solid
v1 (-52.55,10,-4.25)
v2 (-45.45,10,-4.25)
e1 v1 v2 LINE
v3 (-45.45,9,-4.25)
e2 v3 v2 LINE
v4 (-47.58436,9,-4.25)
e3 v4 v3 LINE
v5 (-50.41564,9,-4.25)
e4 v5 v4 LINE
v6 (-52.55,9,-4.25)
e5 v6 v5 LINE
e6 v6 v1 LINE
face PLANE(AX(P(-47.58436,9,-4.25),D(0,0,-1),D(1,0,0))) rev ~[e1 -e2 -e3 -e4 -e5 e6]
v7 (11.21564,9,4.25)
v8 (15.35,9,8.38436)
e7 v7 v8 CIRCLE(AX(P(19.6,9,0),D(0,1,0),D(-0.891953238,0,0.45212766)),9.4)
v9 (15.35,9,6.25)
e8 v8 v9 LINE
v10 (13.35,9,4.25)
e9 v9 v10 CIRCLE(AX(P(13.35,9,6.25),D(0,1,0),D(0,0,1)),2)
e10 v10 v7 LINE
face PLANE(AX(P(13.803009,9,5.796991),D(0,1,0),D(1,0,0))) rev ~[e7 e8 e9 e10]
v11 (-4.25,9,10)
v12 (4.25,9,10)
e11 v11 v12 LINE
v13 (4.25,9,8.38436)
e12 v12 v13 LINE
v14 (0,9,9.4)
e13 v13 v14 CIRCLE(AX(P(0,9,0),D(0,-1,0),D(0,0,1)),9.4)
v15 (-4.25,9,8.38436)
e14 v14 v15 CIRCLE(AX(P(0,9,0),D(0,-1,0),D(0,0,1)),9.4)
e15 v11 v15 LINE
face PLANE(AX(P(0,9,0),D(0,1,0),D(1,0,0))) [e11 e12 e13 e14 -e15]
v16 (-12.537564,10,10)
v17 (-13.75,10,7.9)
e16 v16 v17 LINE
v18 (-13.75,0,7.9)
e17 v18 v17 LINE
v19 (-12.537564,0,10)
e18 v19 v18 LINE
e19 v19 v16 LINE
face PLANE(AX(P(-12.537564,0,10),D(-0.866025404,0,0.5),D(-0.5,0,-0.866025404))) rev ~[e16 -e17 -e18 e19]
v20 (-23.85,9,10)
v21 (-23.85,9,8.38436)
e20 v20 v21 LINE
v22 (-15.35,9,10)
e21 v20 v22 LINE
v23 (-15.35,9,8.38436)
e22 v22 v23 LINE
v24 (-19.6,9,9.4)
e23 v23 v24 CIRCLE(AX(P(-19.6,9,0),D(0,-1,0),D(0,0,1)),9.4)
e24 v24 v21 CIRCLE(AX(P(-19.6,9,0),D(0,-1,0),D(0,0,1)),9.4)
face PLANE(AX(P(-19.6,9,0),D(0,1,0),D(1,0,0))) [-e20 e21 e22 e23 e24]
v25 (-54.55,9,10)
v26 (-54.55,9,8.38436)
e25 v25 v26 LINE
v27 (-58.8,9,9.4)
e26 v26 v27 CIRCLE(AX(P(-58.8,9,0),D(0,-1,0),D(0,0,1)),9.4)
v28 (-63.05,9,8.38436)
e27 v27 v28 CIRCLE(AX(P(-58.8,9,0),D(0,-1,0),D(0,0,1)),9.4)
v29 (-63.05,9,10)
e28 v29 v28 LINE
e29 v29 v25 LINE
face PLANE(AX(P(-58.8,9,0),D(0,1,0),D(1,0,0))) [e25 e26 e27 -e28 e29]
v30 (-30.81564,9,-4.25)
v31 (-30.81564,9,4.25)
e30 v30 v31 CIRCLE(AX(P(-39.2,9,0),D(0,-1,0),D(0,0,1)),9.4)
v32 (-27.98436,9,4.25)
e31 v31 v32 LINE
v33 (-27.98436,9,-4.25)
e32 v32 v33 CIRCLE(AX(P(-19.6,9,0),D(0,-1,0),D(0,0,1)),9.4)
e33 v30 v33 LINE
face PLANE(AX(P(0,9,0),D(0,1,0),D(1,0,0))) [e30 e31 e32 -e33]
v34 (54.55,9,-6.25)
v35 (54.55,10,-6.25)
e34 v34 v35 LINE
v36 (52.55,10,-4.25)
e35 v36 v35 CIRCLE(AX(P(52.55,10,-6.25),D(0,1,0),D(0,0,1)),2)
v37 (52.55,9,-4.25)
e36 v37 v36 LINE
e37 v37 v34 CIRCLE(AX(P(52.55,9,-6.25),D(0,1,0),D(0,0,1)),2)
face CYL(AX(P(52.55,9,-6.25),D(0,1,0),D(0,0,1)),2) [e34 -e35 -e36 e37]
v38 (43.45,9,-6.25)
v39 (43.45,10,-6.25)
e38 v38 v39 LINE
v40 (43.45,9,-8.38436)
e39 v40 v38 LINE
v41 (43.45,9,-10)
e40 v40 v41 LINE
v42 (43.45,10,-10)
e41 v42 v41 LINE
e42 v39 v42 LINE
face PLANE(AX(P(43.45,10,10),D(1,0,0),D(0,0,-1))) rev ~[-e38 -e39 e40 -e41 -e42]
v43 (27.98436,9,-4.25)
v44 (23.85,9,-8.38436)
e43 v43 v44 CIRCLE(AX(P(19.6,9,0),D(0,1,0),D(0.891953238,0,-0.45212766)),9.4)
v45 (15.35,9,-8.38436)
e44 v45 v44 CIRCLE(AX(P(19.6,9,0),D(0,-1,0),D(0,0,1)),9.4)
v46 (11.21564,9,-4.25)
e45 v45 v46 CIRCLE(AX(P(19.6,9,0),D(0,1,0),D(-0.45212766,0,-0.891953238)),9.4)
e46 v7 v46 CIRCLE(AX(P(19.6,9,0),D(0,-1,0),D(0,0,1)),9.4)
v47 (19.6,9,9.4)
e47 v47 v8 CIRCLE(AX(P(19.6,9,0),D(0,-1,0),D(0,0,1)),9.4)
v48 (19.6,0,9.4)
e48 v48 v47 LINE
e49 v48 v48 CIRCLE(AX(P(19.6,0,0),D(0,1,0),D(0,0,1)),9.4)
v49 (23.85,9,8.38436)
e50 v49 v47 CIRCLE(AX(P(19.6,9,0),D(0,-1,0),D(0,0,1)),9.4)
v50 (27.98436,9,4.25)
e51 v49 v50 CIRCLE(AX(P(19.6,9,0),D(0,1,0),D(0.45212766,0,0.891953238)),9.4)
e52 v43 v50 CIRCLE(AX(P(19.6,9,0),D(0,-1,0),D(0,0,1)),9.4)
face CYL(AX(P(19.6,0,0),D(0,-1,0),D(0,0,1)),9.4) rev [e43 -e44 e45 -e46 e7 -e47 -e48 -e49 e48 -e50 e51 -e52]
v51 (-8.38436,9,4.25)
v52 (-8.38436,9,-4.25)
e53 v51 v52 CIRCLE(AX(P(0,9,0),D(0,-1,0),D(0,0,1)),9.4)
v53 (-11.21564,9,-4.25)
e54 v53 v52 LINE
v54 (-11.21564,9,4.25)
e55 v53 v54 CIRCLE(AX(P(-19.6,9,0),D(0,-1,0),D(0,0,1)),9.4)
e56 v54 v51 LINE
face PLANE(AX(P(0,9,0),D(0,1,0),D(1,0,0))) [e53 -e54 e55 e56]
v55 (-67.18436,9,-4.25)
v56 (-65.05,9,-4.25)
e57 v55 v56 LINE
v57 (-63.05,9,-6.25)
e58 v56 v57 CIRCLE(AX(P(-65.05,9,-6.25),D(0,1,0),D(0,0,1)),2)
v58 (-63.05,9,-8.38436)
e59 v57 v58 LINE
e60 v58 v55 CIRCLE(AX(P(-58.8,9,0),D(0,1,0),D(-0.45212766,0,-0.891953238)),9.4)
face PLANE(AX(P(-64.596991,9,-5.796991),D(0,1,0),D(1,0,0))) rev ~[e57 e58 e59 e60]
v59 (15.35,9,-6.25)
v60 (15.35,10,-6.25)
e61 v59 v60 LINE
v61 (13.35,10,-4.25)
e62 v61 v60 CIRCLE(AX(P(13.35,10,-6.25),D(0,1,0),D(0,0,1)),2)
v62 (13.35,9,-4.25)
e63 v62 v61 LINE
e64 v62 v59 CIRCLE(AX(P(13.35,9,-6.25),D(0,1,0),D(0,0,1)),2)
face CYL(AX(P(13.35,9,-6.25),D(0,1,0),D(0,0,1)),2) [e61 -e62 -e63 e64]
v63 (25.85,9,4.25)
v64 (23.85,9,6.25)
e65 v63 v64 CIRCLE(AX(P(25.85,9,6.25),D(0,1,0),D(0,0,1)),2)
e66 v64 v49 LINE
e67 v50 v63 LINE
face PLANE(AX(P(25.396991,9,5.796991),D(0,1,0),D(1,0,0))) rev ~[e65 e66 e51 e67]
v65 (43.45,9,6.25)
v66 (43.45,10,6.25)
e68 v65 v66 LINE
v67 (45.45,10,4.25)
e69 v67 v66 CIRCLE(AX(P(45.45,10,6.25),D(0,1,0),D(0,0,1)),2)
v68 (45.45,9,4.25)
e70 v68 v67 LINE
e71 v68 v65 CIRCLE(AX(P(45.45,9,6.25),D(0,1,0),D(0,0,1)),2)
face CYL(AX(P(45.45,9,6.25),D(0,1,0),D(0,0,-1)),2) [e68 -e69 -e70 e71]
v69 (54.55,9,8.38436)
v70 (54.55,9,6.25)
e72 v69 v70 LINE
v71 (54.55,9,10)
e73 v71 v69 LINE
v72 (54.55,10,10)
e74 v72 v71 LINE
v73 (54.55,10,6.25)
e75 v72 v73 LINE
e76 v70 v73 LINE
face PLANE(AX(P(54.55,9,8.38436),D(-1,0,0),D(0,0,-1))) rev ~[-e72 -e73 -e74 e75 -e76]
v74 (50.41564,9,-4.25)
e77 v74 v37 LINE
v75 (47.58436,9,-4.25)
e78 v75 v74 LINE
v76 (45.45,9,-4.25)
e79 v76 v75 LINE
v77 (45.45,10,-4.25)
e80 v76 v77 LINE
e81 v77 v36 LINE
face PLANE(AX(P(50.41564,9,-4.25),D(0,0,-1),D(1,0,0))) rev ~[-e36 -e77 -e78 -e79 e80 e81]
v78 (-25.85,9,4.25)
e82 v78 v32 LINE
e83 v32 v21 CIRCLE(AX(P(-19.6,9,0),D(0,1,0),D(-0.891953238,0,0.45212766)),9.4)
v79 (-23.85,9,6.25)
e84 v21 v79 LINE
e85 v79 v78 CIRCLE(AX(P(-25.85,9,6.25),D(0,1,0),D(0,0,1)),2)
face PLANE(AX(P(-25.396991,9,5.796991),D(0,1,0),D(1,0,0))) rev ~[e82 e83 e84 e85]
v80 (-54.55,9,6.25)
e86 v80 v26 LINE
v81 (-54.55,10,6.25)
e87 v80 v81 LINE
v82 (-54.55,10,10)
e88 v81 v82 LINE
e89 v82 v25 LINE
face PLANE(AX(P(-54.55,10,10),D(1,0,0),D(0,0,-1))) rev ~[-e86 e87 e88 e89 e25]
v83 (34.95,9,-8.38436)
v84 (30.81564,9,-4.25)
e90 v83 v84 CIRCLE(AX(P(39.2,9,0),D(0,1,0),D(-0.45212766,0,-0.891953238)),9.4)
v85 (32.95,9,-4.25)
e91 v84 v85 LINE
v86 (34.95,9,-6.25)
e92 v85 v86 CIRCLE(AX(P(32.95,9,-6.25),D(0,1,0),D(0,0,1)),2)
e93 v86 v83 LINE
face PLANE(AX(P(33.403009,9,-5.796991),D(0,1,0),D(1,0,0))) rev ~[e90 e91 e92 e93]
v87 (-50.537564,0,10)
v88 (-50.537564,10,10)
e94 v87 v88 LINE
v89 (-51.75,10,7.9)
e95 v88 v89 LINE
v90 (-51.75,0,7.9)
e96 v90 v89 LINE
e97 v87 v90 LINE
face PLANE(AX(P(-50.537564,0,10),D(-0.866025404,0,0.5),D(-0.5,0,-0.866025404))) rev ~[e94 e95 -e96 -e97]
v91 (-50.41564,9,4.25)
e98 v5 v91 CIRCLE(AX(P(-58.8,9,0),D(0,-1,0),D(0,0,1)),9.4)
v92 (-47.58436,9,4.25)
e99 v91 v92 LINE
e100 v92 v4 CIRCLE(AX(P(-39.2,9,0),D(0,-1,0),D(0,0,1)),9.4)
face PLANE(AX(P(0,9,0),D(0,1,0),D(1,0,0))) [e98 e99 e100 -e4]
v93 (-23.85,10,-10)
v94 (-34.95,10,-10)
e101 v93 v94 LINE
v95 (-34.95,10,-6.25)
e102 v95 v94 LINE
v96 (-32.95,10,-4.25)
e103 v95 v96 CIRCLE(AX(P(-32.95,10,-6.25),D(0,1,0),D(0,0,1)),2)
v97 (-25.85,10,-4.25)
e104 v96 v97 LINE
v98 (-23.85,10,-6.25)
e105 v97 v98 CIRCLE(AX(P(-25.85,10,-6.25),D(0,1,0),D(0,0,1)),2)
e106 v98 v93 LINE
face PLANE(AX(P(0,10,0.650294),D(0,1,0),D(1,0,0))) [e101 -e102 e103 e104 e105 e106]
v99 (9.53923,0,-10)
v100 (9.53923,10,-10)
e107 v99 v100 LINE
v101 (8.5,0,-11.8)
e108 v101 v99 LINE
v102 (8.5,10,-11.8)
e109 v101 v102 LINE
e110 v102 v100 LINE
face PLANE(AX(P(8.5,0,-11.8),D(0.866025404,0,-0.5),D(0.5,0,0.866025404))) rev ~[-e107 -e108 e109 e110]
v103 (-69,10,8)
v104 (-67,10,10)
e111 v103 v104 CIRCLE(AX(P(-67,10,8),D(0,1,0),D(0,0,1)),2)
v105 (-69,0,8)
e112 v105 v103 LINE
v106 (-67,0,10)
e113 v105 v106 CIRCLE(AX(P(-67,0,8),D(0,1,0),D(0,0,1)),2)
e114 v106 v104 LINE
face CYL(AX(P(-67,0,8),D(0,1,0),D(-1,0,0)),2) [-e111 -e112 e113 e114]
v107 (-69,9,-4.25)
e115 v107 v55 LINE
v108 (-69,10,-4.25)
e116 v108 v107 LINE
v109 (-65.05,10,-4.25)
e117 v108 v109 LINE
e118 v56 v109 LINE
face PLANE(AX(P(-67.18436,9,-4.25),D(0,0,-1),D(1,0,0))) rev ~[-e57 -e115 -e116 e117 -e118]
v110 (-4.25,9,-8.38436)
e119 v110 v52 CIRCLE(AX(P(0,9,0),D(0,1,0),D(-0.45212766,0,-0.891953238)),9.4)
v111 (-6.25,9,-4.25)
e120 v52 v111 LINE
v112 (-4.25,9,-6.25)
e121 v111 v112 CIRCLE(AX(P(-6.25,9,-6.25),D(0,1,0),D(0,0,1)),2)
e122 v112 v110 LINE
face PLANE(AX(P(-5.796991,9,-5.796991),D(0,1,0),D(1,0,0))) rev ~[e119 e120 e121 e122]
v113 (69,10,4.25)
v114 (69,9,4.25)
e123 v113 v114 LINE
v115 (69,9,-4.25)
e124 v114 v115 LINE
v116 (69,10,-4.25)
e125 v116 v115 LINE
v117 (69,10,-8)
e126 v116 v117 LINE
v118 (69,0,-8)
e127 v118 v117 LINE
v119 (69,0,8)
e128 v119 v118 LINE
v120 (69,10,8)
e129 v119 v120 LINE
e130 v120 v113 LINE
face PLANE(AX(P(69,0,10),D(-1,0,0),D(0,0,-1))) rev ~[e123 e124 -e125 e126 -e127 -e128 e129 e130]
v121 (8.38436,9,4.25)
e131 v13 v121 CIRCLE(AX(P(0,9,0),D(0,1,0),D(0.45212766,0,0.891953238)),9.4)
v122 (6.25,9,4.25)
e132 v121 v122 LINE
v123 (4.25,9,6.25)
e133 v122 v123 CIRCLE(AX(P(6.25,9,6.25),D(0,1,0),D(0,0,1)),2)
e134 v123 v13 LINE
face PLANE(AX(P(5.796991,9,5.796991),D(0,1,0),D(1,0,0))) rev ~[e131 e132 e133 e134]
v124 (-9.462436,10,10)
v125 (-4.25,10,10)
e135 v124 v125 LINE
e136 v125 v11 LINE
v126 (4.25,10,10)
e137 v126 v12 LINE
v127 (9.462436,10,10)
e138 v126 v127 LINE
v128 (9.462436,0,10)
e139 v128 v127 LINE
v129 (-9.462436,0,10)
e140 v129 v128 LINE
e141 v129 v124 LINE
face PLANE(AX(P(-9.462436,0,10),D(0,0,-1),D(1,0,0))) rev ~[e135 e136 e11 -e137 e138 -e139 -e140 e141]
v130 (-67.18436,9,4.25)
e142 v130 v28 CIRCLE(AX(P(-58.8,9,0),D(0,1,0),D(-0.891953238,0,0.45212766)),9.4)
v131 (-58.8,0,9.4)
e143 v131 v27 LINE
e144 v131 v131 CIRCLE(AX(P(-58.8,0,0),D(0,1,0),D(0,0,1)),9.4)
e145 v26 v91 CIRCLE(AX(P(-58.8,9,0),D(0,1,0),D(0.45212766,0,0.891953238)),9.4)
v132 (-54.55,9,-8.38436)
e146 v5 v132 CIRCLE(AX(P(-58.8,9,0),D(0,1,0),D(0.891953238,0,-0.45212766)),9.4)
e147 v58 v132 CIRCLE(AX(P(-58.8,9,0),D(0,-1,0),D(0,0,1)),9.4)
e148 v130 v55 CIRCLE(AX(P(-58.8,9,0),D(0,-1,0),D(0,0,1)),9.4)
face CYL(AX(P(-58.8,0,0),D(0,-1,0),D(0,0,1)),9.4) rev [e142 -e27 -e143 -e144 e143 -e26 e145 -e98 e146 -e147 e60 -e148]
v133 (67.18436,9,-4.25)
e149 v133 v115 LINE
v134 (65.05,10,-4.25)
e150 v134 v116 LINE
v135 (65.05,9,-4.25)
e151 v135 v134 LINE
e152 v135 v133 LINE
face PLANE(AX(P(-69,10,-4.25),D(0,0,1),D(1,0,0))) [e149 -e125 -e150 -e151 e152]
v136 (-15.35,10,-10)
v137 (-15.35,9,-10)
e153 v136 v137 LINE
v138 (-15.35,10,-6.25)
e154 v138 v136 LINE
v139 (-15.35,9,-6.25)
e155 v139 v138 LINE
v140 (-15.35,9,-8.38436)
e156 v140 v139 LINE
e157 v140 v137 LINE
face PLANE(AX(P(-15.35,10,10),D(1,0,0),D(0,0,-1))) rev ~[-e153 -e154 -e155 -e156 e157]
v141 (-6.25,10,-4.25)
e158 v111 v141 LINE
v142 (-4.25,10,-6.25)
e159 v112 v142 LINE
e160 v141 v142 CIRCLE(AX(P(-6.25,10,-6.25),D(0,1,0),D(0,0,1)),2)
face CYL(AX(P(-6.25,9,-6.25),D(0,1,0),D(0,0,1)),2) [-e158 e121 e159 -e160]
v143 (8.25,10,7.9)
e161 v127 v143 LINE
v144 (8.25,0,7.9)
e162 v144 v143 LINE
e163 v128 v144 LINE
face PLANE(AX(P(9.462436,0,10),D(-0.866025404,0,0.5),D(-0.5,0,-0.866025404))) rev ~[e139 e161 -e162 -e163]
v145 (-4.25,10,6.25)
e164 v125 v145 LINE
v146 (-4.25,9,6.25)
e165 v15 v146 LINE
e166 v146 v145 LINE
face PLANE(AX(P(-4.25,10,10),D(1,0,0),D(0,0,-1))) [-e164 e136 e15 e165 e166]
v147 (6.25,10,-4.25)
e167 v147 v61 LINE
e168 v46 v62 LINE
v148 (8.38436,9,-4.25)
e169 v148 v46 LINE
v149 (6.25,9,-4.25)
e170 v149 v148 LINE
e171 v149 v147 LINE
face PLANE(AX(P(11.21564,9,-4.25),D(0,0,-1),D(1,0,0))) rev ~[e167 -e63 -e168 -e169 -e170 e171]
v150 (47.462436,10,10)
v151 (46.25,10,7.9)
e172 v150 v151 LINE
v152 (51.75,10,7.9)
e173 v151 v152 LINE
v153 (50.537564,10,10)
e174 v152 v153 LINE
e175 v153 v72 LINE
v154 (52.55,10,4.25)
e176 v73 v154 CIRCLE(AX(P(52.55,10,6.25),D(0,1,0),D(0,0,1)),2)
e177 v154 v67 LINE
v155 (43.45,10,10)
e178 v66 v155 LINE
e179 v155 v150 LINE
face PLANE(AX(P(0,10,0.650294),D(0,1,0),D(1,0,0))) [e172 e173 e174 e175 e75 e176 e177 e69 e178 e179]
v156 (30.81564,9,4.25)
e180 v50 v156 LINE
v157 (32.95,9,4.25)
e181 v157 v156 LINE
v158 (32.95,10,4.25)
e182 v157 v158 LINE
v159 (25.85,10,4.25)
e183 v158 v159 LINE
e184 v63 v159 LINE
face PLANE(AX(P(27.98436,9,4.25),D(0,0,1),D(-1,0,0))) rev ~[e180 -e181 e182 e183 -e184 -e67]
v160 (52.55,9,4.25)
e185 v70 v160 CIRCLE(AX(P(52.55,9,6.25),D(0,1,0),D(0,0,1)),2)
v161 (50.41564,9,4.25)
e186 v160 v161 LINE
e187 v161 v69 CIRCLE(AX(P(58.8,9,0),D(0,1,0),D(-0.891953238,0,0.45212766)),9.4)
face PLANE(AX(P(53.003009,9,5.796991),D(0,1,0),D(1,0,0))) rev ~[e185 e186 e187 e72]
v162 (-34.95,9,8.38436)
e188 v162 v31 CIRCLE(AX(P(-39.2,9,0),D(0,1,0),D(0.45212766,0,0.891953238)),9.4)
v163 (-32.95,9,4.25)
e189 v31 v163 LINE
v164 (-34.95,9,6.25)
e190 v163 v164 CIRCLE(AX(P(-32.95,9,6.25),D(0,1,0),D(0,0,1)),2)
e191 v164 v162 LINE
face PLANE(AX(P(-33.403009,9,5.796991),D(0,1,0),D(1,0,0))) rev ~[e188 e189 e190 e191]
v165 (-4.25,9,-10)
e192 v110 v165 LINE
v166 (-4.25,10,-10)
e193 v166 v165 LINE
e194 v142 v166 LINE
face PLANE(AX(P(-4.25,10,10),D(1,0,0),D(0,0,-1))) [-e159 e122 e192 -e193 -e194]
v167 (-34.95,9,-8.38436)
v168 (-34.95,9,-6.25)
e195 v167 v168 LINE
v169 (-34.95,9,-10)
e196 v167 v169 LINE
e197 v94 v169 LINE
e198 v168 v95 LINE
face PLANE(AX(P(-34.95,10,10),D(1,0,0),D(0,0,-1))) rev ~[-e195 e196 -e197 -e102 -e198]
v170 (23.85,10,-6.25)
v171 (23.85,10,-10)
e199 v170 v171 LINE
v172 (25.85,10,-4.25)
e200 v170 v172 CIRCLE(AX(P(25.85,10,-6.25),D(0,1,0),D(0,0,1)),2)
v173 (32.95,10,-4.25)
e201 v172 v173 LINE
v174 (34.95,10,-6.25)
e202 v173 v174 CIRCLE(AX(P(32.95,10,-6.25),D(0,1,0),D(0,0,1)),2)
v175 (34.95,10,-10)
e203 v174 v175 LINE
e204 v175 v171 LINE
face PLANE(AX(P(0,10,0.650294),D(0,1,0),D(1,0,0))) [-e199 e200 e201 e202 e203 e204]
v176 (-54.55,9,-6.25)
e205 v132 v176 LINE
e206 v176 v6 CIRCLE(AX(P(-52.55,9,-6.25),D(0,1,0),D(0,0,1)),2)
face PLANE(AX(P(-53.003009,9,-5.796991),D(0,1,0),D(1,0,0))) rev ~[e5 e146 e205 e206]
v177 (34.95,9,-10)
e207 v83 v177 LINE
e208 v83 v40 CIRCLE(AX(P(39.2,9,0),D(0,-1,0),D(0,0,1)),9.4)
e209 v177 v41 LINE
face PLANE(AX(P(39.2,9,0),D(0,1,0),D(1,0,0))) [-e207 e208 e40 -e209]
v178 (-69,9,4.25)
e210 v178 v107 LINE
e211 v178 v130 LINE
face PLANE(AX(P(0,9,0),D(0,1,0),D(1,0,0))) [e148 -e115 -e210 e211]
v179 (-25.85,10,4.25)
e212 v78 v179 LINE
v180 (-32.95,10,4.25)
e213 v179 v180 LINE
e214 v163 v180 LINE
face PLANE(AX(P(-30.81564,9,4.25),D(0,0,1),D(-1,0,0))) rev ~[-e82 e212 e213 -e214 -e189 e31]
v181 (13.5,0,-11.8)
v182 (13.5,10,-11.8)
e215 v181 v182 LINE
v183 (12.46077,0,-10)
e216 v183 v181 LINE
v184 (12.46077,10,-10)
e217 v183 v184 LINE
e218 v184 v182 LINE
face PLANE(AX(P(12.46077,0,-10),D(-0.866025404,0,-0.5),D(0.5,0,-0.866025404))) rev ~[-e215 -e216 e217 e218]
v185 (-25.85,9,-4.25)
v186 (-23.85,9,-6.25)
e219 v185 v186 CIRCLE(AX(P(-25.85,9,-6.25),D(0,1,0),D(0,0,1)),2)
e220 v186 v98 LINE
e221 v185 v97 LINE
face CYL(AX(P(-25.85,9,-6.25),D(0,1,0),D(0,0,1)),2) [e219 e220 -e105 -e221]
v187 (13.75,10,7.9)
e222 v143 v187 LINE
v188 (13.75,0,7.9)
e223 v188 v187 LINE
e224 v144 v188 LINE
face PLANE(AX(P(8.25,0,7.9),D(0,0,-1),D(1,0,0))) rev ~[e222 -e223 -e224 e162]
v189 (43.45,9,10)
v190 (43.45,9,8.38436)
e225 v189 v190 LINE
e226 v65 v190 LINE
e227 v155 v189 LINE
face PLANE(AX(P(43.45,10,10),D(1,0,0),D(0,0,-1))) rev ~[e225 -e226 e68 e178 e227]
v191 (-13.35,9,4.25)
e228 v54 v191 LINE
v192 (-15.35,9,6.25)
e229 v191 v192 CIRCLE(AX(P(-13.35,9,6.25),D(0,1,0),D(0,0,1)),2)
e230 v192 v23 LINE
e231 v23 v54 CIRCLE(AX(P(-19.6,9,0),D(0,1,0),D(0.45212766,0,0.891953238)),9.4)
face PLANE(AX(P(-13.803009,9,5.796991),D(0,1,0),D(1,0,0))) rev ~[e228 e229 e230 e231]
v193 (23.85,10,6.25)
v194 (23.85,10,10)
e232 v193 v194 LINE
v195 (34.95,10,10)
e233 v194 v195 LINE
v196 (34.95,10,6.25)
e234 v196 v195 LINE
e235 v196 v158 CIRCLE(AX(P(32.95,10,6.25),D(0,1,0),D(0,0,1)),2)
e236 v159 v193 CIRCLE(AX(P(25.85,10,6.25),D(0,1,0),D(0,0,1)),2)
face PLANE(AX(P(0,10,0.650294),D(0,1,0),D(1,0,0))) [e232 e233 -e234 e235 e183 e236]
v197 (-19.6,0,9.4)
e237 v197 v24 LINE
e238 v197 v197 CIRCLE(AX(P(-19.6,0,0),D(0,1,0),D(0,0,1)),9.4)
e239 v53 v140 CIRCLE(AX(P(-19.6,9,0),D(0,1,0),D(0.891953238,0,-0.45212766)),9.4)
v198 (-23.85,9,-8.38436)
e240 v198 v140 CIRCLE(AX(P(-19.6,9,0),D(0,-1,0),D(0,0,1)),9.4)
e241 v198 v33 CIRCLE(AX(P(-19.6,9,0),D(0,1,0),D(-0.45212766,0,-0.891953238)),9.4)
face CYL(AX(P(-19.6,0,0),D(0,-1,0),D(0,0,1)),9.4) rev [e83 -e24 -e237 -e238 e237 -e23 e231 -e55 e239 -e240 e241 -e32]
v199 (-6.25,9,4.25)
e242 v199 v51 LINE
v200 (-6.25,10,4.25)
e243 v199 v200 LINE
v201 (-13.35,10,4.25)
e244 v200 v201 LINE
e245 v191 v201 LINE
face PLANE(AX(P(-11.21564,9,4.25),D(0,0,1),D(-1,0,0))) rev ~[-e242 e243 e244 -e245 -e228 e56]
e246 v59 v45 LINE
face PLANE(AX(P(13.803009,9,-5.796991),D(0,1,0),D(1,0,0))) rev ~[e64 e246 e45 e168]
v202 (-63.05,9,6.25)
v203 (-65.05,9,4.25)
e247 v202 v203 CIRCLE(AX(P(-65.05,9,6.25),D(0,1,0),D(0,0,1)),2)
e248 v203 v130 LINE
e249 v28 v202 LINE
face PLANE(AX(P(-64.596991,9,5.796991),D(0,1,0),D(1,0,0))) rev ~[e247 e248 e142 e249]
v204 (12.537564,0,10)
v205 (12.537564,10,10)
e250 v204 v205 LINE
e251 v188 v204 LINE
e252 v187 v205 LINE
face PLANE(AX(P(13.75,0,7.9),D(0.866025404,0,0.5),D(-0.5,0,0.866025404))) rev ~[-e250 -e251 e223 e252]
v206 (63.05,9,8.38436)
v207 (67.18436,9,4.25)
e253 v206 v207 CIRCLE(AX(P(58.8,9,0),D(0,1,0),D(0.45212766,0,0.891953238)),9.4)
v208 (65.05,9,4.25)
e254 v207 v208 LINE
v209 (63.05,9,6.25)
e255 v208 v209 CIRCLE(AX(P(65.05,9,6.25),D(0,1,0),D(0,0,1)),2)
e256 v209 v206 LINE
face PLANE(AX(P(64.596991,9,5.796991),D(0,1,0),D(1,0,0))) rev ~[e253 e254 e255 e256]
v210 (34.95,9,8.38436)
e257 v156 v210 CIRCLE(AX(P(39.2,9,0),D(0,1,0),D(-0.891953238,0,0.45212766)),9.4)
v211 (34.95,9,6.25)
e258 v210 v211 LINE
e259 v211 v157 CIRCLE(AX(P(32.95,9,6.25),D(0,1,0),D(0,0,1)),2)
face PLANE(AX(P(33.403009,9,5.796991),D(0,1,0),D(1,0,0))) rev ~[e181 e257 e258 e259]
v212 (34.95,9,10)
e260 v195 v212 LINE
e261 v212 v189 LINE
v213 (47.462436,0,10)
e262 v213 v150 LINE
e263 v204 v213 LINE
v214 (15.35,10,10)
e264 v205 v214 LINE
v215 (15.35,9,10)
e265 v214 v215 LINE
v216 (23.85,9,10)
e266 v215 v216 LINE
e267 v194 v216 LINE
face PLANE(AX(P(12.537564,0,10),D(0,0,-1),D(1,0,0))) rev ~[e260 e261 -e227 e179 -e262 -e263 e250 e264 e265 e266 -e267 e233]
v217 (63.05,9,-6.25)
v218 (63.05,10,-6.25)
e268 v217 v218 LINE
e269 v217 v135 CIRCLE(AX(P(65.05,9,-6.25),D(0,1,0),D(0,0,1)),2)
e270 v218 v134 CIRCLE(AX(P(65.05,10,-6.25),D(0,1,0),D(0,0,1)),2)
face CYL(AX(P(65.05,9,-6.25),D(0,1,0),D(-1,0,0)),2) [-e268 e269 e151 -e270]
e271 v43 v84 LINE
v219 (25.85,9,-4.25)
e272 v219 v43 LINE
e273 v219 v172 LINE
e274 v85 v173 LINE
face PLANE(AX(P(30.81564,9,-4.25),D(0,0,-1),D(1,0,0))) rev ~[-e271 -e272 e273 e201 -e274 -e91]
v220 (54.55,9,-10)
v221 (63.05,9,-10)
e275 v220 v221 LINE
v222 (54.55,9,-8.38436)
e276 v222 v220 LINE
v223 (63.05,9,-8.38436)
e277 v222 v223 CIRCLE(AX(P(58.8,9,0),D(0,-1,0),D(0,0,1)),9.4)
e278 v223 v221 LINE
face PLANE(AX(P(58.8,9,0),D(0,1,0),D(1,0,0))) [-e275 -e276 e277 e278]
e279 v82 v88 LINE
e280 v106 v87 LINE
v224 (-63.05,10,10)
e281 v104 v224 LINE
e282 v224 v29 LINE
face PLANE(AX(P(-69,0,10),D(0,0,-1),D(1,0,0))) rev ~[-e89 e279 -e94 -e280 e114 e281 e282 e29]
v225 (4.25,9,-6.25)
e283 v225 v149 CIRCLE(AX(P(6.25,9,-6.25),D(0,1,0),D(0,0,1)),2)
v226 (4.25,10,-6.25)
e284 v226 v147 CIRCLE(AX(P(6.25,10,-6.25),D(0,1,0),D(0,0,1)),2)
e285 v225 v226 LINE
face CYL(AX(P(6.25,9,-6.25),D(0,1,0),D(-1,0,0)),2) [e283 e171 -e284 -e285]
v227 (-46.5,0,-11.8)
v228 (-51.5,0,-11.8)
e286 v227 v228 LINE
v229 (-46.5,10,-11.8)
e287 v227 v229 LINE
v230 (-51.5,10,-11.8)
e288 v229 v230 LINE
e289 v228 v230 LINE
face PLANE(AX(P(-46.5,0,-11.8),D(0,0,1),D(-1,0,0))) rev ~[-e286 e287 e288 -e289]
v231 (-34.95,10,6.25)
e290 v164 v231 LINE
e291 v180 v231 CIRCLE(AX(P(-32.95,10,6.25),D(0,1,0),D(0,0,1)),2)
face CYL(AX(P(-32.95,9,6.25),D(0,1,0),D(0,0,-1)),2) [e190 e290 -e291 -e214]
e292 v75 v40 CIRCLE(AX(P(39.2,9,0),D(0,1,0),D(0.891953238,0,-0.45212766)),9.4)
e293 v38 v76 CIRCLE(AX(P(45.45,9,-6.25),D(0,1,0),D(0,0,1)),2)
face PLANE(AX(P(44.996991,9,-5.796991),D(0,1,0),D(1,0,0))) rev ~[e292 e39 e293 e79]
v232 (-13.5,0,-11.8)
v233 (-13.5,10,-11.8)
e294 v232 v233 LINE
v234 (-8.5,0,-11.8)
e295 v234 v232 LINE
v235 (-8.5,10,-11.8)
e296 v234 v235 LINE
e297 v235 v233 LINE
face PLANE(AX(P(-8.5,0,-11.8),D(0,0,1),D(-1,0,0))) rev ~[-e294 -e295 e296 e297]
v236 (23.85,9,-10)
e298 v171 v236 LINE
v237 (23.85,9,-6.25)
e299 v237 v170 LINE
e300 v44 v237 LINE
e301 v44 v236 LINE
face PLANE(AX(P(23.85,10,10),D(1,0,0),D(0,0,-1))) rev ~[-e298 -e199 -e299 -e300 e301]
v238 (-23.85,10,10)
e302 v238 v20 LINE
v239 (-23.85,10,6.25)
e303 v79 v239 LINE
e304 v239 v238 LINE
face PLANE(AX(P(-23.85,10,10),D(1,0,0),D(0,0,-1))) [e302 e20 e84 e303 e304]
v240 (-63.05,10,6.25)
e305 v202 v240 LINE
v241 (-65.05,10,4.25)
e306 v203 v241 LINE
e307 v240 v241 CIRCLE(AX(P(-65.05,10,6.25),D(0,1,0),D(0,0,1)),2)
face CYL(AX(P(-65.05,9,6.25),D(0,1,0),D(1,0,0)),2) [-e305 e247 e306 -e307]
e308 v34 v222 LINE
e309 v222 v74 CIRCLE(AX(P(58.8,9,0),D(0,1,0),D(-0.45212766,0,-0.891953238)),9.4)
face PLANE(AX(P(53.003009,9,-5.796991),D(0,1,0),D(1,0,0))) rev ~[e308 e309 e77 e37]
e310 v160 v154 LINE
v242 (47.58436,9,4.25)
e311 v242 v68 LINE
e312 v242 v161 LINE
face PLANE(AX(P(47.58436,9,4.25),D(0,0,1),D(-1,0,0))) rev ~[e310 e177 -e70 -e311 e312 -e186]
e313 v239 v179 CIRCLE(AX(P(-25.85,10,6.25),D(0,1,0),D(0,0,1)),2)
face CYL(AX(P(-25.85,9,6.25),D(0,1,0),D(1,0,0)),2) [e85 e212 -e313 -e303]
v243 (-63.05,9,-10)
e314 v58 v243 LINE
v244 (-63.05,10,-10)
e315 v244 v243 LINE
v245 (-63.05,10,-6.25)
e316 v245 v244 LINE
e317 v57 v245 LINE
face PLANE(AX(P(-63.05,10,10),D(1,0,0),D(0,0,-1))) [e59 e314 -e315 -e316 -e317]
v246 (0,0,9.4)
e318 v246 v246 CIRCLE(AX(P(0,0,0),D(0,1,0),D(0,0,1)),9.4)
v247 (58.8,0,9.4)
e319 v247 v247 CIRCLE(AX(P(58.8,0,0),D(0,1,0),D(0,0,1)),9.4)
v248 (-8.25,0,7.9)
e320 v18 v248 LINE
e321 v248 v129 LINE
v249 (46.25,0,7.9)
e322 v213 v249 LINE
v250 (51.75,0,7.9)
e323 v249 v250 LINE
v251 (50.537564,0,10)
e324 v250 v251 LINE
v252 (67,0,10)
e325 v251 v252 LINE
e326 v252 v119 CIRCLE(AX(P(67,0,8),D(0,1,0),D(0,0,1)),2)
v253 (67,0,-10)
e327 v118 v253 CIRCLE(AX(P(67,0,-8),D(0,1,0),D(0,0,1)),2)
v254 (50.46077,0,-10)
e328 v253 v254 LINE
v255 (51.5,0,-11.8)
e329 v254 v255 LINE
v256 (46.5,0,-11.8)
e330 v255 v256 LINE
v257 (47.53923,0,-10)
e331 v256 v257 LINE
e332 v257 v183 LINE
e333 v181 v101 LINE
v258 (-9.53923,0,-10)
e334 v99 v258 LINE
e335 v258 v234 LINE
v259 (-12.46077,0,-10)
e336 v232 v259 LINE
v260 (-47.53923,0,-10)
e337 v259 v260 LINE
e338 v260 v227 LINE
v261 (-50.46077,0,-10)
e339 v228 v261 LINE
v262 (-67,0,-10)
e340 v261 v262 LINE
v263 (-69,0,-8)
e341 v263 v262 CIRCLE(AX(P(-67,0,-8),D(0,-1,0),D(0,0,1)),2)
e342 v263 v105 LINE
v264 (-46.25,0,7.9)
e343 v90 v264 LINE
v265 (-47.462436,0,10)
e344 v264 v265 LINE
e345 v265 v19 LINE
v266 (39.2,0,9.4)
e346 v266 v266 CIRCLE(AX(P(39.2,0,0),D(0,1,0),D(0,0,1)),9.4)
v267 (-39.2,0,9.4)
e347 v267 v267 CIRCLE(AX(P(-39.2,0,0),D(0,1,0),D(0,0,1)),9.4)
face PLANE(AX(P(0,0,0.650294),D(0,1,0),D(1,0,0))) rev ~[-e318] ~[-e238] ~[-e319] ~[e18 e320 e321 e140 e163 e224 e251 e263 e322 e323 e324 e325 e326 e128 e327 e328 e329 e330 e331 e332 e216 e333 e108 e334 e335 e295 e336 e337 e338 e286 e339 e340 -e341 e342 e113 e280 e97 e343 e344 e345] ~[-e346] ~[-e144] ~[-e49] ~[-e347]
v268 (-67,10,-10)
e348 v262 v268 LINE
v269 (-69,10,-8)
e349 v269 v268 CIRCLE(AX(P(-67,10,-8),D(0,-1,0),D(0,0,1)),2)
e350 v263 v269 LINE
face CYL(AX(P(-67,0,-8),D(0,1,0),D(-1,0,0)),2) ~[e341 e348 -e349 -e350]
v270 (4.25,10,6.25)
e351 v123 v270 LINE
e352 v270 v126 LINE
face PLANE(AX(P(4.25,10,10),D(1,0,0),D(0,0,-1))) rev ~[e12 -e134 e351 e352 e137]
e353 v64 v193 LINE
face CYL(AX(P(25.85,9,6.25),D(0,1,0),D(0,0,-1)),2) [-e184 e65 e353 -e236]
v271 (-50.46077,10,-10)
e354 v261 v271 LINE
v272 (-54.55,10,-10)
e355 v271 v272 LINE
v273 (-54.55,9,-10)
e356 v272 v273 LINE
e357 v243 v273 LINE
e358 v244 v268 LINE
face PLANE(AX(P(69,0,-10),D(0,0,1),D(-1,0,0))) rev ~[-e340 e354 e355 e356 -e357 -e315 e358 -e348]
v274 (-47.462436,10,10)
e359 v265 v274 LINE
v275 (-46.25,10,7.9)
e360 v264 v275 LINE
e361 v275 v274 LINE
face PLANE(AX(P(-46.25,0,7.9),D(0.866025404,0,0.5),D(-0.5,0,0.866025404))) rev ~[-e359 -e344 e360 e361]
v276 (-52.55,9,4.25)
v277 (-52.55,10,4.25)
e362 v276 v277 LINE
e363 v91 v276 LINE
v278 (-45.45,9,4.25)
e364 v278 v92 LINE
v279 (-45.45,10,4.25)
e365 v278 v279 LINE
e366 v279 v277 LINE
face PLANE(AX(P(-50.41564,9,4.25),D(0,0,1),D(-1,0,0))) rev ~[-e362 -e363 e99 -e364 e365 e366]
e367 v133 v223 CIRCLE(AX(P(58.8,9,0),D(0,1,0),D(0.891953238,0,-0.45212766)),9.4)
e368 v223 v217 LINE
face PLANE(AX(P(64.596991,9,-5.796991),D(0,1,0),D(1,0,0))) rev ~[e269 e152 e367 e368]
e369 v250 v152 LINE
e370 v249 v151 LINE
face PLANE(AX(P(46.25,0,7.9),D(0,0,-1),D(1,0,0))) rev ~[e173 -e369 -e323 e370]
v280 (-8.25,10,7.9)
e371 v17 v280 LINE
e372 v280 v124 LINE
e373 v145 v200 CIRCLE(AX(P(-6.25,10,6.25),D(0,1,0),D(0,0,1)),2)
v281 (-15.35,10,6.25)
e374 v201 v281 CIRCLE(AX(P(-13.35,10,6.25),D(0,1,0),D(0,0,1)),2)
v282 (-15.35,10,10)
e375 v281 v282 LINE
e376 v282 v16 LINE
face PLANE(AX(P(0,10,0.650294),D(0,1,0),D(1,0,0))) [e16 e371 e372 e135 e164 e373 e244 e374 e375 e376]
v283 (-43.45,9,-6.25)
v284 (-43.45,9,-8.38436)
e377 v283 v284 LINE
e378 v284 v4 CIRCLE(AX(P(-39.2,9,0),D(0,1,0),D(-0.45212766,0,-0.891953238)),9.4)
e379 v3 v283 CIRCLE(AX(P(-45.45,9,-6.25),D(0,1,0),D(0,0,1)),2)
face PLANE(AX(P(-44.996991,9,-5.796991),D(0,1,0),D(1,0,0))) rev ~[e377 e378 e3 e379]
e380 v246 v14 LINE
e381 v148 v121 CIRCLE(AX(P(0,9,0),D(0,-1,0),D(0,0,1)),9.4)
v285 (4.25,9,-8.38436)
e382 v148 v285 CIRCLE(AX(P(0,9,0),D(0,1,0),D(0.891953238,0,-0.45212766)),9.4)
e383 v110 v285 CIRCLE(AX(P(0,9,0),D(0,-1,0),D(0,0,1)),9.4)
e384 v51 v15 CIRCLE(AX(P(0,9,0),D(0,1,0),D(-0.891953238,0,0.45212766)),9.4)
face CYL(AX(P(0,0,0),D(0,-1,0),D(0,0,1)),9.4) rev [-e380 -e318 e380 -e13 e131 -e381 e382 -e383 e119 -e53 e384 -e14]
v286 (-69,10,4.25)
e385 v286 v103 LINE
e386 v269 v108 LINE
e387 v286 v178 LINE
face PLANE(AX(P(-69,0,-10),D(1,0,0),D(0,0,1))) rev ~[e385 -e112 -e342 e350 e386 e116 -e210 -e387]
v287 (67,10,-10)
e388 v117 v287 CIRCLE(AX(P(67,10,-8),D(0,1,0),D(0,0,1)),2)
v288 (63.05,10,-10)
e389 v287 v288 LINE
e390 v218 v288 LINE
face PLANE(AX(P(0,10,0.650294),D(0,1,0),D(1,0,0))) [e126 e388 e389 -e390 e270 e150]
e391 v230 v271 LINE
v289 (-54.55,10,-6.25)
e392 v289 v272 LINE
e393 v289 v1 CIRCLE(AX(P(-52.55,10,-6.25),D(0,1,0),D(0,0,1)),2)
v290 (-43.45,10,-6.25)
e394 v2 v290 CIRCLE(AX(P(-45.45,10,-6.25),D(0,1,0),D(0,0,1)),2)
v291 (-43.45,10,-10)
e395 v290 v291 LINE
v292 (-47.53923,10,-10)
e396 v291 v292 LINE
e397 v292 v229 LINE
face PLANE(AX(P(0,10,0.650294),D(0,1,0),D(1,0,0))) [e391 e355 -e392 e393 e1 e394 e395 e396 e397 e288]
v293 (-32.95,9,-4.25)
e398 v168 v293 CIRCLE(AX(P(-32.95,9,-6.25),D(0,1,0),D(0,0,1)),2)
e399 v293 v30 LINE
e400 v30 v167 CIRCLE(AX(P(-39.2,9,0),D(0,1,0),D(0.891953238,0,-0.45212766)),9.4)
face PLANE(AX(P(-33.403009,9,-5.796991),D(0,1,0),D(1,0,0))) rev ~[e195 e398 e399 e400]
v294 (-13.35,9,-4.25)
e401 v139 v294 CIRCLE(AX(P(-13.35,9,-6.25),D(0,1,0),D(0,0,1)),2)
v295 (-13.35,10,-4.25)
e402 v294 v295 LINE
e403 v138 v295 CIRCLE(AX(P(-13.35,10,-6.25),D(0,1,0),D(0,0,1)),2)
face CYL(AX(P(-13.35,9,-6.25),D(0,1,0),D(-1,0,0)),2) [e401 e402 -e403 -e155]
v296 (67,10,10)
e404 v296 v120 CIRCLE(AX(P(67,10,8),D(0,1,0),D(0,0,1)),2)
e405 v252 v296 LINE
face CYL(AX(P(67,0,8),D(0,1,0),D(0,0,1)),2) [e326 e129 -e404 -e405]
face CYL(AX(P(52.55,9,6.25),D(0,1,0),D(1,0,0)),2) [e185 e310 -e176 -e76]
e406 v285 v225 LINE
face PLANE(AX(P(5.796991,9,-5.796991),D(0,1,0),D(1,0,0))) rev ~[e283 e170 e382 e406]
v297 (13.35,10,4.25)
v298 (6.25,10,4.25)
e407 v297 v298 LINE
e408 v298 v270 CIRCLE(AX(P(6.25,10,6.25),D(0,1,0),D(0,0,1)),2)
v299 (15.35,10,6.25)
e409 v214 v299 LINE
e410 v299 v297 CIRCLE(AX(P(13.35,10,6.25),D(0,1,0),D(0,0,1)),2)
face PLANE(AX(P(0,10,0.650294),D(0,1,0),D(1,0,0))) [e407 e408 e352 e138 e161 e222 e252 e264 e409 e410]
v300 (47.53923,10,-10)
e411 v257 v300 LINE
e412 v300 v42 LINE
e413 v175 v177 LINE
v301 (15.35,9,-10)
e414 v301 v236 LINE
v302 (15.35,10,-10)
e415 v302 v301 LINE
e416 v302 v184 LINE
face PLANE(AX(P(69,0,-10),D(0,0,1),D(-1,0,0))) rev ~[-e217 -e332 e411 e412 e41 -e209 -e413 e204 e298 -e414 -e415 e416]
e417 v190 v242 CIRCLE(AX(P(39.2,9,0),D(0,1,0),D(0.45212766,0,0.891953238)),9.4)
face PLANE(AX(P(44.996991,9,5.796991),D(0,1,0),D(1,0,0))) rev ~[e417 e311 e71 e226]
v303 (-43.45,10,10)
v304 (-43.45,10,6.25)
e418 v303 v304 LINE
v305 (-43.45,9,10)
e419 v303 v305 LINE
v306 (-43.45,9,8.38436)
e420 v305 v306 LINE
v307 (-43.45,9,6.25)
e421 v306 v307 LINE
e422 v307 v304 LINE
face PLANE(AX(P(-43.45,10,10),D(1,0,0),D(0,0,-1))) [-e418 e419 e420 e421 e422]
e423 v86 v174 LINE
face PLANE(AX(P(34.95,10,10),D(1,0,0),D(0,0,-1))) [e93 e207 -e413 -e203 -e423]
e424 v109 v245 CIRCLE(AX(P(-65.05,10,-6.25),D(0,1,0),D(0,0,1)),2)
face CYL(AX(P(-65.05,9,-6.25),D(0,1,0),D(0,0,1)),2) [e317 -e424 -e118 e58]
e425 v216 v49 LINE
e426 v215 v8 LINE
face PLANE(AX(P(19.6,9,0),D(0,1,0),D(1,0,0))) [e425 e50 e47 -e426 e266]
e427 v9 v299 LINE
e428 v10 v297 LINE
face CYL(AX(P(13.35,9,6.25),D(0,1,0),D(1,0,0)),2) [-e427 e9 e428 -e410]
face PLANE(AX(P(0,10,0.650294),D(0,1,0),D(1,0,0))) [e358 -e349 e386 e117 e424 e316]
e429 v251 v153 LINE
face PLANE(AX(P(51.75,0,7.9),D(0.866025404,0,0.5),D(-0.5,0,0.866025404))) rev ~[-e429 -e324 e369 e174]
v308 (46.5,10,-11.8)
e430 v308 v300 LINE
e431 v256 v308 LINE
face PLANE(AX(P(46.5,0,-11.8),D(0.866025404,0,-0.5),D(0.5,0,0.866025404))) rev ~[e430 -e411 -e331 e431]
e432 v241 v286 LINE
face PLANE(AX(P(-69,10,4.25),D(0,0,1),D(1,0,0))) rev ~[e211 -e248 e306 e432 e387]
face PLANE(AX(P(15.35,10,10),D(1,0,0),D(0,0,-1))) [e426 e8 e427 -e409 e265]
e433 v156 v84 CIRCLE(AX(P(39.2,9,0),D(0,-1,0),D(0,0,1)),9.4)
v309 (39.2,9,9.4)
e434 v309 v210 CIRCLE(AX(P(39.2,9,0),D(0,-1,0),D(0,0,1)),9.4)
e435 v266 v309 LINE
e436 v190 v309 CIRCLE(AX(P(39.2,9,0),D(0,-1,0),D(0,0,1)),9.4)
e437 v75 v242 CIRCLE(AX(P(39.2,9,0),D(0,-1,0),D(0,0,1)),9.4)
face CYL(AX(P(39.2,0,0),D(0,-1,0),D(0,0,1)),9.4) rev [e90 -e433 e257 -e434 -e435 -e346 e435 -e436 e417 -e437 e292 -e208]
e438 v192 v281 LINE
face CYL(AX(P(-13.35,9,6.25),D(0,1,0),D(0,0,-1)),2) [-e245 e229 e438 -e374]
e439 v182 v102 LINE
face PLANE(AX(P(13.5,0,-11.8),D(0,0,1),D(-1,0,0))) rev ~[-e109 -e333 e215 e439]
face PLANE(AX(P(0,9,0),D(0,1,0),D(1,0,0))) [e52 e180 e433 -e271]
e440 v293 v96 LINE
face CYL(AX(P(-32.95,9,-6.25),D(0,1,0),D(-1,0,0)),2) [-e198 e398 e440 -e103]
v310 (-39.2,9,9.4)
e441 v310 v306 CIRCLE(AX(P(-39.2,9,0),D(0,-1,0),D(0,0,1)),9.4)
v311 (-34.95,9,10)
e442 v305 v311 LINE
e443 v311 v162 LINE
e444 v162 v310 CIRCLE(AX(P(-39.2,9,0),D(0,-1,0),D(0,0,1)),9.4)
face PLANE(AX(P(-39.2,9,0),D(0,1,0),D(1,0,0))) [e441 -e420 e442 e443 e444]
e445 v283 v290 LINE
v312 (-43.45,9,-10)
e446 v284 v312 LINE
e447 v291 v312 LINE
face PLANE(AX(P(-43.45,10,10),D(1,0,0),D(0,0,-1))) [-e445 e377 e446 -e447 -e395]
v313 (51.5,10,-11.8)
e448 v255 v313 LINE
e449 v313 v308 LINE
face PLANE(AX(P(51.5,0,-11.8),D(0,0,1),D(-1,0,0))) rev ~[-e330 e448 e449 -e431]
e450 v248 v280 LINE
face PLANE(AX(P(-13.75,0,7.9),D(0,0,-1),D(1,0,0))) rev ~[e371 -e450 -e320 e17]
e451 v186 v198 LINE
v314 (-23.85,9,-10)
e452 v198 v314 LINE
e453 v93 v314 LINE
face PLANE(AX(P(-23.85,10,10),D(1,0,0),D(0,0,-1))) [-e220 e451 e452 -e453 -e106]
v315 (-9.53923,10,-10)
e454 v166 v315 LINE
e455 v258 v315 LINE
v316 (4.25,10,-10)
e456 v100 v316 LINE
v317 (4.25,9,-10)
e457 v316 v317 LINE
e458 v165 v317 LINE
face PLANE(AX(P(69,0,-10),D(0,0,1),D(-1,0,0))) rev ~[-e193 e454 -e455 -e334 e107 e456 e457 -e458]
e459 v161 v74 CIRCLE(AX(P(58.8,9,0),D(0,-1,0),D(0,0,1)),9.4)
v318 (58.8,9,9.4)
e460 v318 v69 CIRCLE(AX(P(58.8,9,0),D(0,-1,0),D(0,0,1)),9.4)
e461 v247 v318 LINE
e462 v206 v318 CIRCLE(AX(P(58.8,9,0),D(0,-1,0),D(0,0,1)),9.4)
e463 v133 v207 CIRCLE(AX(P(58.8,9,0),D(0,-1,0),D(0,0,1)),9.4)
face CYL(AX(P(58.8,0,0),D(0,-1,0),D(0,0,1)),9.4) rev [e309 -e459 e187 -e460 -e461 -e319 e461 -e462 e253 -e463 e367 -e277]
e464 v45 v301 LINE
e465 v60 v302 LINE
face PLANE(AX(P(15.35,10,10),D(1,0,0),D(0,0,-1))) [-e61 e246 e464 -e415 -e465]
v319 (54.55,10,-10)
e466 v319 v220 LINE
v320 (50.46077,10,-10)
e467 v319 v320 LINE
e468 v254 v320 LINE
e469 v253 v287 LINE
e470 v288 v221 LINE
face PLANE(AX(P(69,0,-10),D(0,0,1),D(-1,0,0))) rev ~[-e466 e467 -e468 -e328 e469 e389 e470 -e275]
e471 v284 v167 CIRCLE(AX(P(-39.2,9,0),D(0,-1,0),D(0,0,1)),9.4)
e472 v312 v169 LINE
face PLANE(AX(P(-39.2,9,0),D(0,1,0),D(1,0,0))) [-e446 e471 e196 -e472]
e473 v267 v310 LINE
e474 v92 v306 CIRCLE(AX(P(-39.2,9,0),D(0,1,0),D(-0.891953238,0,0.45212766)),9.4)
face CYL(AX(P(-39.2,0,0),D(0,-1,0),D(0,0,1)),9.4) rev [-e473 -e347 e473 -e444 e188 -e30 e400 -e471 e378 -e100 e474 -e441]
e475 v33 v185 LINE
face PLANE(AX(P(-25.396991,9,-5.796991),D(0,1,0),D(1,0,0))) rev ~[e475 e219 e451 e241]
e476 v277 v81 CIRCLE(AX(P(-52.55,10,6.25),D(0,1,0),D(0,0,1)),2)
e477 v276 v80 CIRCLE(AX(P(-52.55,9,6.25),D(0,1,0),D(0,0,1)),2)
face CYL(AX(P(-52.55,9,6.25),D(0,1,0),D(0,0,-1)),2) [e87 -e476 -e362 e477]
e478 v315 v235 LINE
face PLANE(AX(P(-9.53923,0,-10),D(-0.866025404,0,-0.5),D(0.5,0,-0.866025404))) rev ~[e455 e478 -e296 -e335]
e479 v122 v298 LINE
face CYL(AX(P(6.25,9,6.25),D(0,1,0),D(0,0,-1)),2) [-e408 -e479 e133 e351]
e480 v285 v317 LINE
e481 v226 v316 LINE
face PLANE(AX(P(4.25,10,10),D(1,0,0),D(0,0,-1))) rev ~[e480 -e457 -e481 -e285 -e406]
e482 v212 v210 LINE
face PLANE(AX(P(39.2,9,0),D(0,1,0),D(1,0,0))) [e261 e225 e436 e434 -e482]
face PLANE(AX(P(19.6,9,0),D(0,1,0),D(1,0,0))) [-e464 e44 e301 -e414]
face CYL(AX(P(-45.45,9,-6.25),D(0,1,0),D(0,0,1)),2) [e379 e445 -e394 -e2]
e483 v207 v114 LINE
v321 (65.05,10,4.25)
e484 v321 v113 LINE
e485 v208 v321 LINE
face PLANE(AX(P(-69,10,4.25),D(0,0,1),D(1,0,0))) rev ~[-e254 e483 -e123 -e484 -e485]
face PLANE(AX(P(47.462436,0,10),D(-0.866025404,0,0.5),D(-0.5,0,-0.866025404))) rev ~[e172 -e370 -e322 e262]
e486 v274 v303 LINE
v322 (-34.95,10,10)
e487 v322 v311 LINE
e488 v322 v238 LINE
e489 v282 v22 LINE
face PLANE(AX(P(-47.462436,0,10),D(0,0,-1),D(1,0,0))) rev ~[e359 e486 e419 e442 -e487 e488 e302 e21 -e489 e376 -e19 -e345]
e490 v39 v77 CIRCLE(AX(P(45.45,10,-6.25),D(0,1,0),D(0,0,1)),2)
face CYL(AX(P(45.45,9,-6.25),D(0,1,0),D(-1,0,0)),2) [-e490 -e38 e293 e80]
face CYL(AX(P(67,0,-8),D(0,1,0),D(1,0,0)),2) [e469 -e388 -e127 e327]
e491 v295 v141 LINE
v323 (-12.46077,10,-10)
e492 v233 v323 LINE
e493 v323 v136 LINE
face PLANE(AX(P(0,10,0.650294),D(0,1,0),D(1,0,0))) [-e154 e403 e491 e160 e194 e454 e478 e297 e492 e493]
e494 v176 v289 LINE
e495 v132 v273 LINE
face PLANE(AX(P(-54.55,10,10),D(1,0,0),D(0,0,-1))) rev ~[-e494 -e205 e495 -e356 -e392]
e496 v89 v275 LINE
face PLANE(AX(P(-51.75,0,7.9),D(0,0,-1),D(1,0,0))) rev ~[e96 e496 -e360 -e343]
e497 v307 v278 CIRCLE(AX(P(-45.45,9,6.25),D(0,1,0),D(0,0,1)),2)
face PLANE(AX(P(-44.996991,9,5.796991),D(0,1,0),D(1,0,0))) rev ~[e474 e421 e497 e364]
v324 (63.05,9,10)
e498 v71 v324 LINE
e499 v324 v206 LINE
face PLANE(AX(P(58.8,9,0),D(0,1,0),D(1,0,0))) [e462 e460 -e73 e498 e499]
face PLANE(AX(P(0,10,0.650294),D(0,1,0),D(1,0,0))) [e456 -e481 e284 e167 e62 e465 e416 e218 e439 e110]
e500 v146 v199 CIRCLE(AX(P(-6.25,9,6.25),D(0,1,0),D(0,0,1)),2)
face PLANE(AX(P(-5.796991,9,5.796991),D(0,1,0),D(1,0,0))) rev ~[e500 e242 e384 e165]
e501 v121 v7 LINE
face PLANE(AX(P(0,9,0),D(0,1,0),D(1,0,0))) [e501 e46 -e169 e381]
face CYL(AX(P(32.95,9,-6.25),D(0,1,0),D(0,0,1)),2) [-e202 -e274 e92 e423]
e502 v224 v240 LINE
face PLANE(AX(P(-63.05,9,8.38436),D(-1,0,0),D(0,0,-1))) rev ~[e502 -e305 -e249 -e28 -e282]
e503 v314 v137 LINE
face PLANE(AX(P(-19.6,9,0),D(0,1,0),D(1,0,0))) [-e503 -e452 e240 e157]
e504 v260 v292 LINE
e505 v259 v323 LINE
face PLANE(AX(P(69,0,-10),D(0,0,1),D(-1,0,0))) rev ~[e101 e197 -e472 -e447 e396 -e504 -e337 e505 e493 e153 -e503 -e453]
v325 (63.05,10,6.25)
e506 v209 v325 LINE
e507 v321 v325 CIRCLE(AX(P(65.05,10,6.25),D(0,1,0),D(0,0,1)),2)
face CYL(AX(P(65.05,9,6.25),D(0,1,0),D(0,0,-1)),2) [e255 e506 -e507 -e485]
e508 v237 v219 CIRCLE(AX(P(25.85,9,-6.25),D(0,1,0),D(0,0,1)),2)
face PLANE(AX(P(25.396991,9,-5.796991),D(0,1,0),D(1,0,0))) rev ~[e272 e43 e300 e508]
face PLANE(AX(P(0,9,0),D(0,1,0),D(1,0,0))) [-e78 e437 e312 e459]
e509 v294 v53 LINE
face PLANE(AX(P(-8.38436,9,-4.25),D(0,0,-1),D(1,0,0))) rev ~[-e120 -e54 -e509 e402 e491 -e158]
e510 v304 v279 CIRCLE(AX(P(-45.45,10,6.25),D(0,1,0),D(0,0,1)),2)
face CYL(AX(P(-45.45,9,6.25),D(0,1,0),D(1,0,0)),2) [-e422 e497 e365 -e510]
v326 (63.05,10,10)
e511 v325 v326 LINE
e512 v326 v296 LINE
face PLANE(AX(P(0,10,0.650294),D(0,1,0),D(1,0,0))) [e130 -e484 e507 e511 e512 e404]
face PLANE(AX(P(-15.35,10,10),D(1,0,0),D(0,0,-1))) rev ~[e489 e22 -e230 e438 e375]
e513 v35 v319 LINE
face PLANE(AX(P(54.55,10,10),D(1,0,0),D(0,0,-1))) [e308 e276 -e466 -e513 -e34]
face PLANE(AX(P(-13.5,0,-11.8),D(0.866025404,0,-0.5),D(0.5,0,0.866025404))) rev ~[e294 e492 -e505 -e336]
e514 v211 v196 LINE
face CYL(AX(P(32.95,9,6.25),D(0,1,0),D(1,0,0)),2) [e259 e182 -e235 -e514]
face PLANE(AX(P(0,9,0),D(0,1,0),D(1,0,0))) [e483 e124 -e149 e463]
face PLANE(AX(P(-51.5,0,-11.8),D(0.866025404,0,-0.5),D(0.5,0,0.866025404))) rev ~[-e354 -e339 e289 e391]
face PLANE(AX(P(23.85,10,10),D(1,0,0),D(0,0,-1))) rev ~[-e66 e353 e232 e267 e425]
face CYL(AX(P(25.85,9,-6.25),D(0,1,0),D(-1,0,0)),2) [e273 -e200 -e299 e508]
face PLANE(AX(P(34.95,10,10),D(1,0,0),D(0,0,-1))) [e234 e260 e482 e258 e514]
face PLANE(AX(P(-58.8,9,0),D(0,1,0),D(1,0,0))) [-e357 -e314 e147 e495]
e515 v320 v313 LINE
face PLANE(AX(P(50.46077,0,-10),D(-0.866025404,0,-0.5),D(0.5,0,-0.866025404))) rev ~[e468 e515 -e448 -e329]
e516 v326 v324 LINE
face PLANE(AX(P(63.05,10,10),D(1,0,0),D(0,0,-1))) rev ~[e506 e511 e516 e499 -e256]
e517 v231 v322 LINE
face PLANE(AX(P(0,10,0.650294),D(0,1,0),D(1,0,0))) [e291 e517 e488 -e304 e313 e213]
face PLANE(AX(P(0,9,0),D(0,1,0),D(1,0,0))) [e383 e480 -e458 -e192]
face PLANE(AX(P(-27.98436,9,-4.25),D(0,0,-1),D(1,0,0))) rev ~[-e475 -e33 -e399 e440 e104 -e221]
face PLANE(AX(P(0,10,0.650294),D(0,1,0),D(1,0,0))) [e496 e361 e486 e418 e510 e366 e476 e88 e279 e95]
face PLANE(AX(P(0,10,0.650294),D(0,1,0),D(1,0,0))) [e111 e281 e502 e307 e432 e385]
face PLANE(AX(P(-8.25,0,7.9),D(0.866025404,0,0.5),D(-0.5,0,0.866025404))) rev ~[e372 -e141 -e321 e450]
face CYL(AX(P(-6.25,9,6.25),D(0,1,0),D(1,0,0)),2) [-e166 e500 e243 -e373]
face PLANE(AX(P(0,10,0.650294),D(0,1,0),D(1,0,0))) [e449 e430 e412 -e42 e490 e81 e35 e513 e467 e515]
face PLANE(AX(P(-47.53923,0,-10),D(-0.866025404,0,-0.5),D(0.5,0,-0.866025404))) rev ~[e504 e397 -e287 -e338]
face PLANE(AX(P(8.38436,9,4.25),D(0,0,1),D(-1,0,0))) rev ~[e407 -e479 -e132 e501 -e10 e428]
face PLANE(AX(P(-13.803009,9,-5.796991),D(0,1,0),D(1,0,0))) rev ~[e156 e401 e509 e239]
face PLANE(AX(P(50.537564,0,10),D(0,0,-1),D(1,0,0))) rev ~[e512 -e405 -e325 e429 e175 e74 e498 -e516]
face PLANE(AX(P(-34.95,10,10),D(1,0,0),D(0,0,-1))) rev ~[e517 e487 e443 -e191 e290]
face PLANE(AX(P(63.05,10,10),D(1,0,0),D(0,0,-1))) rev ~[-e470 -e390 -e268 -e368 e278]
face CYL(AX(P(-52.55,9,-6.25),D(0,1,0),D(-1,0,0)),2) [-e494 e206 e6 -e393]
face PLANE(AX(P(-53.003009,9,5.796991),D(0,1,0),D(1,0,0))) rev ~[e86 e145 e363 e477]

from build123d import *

# Parameters (mm, degrees)
SKETCH3_R              = 9.4
SKETCH3_R_2            = 9.400000000000007
SKETCH3_R_3            = 9.400000000000002
BOSS_EXTRUDE1_DEPTH    = 10
BOSS_EXTRUDE2_START    = -1
BOSS_EXTRUDE2_DEPTH    = 1
FILLET2_R              = 2
LPATTERN1_COUNT        = 7
LPATTERN1_PITCH        = 19.6
FILLET2_OF_LPATTERN1_R = 2
FILLET3_R              = 2
SKETCH4_5_W            = 137.99999999999994
SKETCH4_5_H            = 8.5
CUT_EXTRUDE2_DEPTH     = 1
SKETCH4_6_W            = 8.500000000000007
SKETCH4_6_H            = 19.999999999999993
CUT_EXTRUDE3_DEPTH     = 1
LPATTERN2_COUNT        = 7
LPATTERN2_PITCH        = 19.6


with BuildPart() as part:
    # Sketch3 → Boss-Extrude1 (new body)
    with BuildSketch(Plane(origin=(0, 0, 0), x_dir=(1, 0, 0), z_dir=(0, 1, 0))):
        Polygon((-69.00000000000003, 10.000000000000002), (-69.00000000000003, -10.000000000000002), (-50.53756443470182, -10.000000000000002), (-51.750000000000036, -7.899999999999998), (-46.25000000000003, -7.899999999999998), (-47.462435565298236, -9.999999999999998), (-12.537564434701821, -10.000000000000002), (-13.750000000000034, -7.899999999999998), (-8.250000000000028, -7.899999999999998), (-9.462435565298238, -9.999999999999998), (9.462435565298179, -10.000000000000002), (8.249999999999977, -7.899999999999998), (13.74999999999998, -7.899999999999998), (12.537564434701773, -9.999999999999998), (47.46243556529818, -10.000000000000002), (46.24999999999997, -7.899999999999998), (51.74999999999998, -7.899999999999998), (50.53756443470177, -9.999999999999998), (68.99999999999997, -10.000000000000002), (68.99999999999997, 9.999999999999998), (50.46076951545864, 9.999999999999998), (51.49999999999998, 11.8), (46.49999999999997, 11.8), (47.539230484541314, 10.000000000000002), (12.460769515458637, 10), (13.49999999999998, 11.8), (8.499999999999977, 11.8), (9.539230484541315, 10.000000000000002), (-9.53923048454137, 10), (-8.500000000000028, 11.8), (-13.500000000000032, 11.8), (-12.460769515458693, 10.000000000000002), (-47.53923048454137, 10.000000000000002), (-46.50000000000003, 11.8), (-51.50000000000003, 11.8), (-50.46076951545869, 10.000000000000002), align=None)
        with Locations((-58.80000000000003, -8.1599e-13)):
            Circle(SKETCH3_R, mode=Mode.SUBTRACT)
        with Locations((-39.20000000000004, -6.7913e-13)):
            Circle(SKETCH3_R, mode=Mode.SUBTRACT)
        with Locations((-19.600000000000033, -5.4226e-13)):
            Circle(SKETCH3_R, mode=Mode.SUBTRACT)
        Circle(SKETCH3_R, mode=Mode.SUBTRACT)
        with Locations((19.599999999999973, -2.6853e-13)):
            Circle(SKETCH3_R, mode=Mode.SUBTRACT)
        with Locations((39.199999999999974, -1.3166e-13)):
            Circle(SKETCH3_R_2, mode=Mode.SUBTRACT)
        with Locations((58.799999999999976, 5.2e-15)):
            Circle(SKETCH3_R_3, mode=Mode.SUBTRACT)
    extrude(amount=BOSS_EXTRUDE1_DEPTH)

    # Sketch4 → Boss-Extrude2 (add)
    with BuildSketch(Plane(origin=(0, 10, 0), x_dir=(1, 0, 0), z_dir=(0, 1, 0)).offset(BOSS_EXTRUDE2_START)):
        with BuildLine():
            Line((54.549999999999976, 4.25), (54.549999999999976, 8.384360440725105))
            ThreePointArc((54.549999999999685, 8.384360440725203), (52.1531962568464, 6.646803743153534), (50.41563955927475, 4.2500000000002425))
            Line((50.41563955927484, 4.25), (54.54999999999998, 4.25))
        make_face()
        with BuildLine():
            ThreePointArc((67.18436044072524, 4.250000000000159), (65.44680374315354, 6.646803743153543), (63.05000000000016, 8.384360440725256))
            Line((63.04999999999998, 8.38436044072519), (63.04999999999998, 4.25))
            Line((63.04999999999998, 4.25), (67.18436044072519, 4.25))
        make_face()
        with BuildLine():
            Line((54.54999999999998, -4.25), (50.41563955927484, -4.25))
            ThreePointArc((50.41563955927475, -4.250000000000238), (52.15319625684641, -6.646803743153529), (54.54999999999969, -8.384360440725196))
            Line((54.549999999999976, -8.384360440725096), (54.549999999999976, -4.25))
        make_face()
        with BuildLine():
            Line((67.18436044072519, -4.25), (63.04999999999998, -4.25))
            Line((63.04999999999998, -4.25), (63.04999999999998, -8.384360440725185))
            ThreePointArc((63.05000000000015, -8.384360440725251), (65.44680374315354, -6.646803743153541), (67.18436044072524, -4.250000000000151))
        make_face()
    boss_extrude2 = extrude(amount=BOSS_EXTRUDE2_DEPTH)

    # Fillet2
    fillet2_edges = [part.edges().sort_by_distance(p)[0] for p in [
        (54.54999999999998, 9.5, -4.25),
        (54.54999999999998, 9.5, 4.25),
        (63.04999999999998, 9.5, 4.25),
        (63.04999999999998, 9.5, -4.25),
    ]]
    fillet(fillet2_edges, radius=FILLET2_R)

    # LPattern1: Boss-Extrude2 ×7
    with Locations(*[(-i * LPATTERN1_PITCH, 0, 0) for i in range(1, LPATTERN1_COUNT)]):
        add(boss_extrude2)

    # Fillet2 of LPattern1
    fillet2_of_lpattern1_edges = [part.edges().sort_by_distance(p)[0] for p in [
        (34.94999999999998, 9.5, -4.25),
        (34.94999999999998, 9.5, 4.25),
        (43.44999999999998, 9.5, 4.25),
        (43.44999999999998, 9.5, -4.25),
        (15.34999999999998, 9.5, -4.25),
        (15.34999999999998, 9.5, 4.25),
        (23.84999999999998, 9.5, 4.25),
        (23.84999999999998, 9.5, -4.25),
        (-4.250000000000021, 9.5, -4.25),
        (-4.250000000000021, 9.5, 4.25),
        (4.249999999999979, 9.5, 4.25),
        (4.249999999999979, 9.5, -4.25),
        (-23.850000000000023, 9.5, -4.25),
        (-23.850000000000023, 9.5, 4.25),
        (-15.350000000000023, 9.5, 4.25),
        (-15.350000000000023, 9.5, -4.25),
        (-43.45000000000002, 9.5, -4.25),
        (-43.45000000000002, 9.5, 4.25),
        (-34.95000000000002, 9.5, 4.25),
        (-34.95000000000002, 9.5, -4.25),
        (-63.050000000000026, 9.5, -4.25),
        (-63.050000000000026, 9.5, 4.25),
        (-54.550000000000026, 9.5, 4.25),
        (-54.550000000000026, 9.5, -4.25),
    ]]
    fillet(fillet2_of_lpattern1_edges, radius=FILLET2_OF_LPATTERN1_R)

    # Fillet3
    fillet3_edges = [part.edges().sort_by_distance(p)[0] for p in [
        (68.99999999999997, 5, 10.000000000000002),
        (68.99999999999997, 5, -9.999999999999998),
        (-69.00000000000003, 5, 10.000000000000002),
        (-69.00000000000003, 5, -10.000000000000002),
    ]]
    fillet(fillet3_edges, radius=FILLET3_R)

    # Sketch4<5> → Cut-Extrude2 (cut)
    with BuildSketch(Plane(origin=(0, 10, 0), x_dir=(1, 0, 0), z_dir=(0, 1, 0))):
        Rectangle(SKETCH4_5_W, SKETCH4_5_H)
    extrude(amount=-CUT_EXTRUDE2_DEPTH, mode=Mode.SUBTRACT)

    # Sketch4<6> → Cut-Extrude3 (cut)
    with BuildSketch(Plane(origin=(0, 10, 0), x_dir=(1, 0, 0), z_dir=(0, 1, 0))):
        with Locations((58.79999999999998, 5.33e-15)):
            Rectangle(SKETCH4_6_W, SKETCH4_6_H)
    cut_extrude3 = extrude(amount=-CUT_EXTRUDE3_DEPTH, mode=Mode.SUBTRACT)

    # LPattern2: Cut-Extrude3 ×7
    with Locations(*[(-i * LPATTERN2_PITCH, 0, 0) for i in range(1, LPATTERN2_COUNT)]):
        add(cut_extrude3, mode=Mode.SUBTRACT)


solid = part.part
